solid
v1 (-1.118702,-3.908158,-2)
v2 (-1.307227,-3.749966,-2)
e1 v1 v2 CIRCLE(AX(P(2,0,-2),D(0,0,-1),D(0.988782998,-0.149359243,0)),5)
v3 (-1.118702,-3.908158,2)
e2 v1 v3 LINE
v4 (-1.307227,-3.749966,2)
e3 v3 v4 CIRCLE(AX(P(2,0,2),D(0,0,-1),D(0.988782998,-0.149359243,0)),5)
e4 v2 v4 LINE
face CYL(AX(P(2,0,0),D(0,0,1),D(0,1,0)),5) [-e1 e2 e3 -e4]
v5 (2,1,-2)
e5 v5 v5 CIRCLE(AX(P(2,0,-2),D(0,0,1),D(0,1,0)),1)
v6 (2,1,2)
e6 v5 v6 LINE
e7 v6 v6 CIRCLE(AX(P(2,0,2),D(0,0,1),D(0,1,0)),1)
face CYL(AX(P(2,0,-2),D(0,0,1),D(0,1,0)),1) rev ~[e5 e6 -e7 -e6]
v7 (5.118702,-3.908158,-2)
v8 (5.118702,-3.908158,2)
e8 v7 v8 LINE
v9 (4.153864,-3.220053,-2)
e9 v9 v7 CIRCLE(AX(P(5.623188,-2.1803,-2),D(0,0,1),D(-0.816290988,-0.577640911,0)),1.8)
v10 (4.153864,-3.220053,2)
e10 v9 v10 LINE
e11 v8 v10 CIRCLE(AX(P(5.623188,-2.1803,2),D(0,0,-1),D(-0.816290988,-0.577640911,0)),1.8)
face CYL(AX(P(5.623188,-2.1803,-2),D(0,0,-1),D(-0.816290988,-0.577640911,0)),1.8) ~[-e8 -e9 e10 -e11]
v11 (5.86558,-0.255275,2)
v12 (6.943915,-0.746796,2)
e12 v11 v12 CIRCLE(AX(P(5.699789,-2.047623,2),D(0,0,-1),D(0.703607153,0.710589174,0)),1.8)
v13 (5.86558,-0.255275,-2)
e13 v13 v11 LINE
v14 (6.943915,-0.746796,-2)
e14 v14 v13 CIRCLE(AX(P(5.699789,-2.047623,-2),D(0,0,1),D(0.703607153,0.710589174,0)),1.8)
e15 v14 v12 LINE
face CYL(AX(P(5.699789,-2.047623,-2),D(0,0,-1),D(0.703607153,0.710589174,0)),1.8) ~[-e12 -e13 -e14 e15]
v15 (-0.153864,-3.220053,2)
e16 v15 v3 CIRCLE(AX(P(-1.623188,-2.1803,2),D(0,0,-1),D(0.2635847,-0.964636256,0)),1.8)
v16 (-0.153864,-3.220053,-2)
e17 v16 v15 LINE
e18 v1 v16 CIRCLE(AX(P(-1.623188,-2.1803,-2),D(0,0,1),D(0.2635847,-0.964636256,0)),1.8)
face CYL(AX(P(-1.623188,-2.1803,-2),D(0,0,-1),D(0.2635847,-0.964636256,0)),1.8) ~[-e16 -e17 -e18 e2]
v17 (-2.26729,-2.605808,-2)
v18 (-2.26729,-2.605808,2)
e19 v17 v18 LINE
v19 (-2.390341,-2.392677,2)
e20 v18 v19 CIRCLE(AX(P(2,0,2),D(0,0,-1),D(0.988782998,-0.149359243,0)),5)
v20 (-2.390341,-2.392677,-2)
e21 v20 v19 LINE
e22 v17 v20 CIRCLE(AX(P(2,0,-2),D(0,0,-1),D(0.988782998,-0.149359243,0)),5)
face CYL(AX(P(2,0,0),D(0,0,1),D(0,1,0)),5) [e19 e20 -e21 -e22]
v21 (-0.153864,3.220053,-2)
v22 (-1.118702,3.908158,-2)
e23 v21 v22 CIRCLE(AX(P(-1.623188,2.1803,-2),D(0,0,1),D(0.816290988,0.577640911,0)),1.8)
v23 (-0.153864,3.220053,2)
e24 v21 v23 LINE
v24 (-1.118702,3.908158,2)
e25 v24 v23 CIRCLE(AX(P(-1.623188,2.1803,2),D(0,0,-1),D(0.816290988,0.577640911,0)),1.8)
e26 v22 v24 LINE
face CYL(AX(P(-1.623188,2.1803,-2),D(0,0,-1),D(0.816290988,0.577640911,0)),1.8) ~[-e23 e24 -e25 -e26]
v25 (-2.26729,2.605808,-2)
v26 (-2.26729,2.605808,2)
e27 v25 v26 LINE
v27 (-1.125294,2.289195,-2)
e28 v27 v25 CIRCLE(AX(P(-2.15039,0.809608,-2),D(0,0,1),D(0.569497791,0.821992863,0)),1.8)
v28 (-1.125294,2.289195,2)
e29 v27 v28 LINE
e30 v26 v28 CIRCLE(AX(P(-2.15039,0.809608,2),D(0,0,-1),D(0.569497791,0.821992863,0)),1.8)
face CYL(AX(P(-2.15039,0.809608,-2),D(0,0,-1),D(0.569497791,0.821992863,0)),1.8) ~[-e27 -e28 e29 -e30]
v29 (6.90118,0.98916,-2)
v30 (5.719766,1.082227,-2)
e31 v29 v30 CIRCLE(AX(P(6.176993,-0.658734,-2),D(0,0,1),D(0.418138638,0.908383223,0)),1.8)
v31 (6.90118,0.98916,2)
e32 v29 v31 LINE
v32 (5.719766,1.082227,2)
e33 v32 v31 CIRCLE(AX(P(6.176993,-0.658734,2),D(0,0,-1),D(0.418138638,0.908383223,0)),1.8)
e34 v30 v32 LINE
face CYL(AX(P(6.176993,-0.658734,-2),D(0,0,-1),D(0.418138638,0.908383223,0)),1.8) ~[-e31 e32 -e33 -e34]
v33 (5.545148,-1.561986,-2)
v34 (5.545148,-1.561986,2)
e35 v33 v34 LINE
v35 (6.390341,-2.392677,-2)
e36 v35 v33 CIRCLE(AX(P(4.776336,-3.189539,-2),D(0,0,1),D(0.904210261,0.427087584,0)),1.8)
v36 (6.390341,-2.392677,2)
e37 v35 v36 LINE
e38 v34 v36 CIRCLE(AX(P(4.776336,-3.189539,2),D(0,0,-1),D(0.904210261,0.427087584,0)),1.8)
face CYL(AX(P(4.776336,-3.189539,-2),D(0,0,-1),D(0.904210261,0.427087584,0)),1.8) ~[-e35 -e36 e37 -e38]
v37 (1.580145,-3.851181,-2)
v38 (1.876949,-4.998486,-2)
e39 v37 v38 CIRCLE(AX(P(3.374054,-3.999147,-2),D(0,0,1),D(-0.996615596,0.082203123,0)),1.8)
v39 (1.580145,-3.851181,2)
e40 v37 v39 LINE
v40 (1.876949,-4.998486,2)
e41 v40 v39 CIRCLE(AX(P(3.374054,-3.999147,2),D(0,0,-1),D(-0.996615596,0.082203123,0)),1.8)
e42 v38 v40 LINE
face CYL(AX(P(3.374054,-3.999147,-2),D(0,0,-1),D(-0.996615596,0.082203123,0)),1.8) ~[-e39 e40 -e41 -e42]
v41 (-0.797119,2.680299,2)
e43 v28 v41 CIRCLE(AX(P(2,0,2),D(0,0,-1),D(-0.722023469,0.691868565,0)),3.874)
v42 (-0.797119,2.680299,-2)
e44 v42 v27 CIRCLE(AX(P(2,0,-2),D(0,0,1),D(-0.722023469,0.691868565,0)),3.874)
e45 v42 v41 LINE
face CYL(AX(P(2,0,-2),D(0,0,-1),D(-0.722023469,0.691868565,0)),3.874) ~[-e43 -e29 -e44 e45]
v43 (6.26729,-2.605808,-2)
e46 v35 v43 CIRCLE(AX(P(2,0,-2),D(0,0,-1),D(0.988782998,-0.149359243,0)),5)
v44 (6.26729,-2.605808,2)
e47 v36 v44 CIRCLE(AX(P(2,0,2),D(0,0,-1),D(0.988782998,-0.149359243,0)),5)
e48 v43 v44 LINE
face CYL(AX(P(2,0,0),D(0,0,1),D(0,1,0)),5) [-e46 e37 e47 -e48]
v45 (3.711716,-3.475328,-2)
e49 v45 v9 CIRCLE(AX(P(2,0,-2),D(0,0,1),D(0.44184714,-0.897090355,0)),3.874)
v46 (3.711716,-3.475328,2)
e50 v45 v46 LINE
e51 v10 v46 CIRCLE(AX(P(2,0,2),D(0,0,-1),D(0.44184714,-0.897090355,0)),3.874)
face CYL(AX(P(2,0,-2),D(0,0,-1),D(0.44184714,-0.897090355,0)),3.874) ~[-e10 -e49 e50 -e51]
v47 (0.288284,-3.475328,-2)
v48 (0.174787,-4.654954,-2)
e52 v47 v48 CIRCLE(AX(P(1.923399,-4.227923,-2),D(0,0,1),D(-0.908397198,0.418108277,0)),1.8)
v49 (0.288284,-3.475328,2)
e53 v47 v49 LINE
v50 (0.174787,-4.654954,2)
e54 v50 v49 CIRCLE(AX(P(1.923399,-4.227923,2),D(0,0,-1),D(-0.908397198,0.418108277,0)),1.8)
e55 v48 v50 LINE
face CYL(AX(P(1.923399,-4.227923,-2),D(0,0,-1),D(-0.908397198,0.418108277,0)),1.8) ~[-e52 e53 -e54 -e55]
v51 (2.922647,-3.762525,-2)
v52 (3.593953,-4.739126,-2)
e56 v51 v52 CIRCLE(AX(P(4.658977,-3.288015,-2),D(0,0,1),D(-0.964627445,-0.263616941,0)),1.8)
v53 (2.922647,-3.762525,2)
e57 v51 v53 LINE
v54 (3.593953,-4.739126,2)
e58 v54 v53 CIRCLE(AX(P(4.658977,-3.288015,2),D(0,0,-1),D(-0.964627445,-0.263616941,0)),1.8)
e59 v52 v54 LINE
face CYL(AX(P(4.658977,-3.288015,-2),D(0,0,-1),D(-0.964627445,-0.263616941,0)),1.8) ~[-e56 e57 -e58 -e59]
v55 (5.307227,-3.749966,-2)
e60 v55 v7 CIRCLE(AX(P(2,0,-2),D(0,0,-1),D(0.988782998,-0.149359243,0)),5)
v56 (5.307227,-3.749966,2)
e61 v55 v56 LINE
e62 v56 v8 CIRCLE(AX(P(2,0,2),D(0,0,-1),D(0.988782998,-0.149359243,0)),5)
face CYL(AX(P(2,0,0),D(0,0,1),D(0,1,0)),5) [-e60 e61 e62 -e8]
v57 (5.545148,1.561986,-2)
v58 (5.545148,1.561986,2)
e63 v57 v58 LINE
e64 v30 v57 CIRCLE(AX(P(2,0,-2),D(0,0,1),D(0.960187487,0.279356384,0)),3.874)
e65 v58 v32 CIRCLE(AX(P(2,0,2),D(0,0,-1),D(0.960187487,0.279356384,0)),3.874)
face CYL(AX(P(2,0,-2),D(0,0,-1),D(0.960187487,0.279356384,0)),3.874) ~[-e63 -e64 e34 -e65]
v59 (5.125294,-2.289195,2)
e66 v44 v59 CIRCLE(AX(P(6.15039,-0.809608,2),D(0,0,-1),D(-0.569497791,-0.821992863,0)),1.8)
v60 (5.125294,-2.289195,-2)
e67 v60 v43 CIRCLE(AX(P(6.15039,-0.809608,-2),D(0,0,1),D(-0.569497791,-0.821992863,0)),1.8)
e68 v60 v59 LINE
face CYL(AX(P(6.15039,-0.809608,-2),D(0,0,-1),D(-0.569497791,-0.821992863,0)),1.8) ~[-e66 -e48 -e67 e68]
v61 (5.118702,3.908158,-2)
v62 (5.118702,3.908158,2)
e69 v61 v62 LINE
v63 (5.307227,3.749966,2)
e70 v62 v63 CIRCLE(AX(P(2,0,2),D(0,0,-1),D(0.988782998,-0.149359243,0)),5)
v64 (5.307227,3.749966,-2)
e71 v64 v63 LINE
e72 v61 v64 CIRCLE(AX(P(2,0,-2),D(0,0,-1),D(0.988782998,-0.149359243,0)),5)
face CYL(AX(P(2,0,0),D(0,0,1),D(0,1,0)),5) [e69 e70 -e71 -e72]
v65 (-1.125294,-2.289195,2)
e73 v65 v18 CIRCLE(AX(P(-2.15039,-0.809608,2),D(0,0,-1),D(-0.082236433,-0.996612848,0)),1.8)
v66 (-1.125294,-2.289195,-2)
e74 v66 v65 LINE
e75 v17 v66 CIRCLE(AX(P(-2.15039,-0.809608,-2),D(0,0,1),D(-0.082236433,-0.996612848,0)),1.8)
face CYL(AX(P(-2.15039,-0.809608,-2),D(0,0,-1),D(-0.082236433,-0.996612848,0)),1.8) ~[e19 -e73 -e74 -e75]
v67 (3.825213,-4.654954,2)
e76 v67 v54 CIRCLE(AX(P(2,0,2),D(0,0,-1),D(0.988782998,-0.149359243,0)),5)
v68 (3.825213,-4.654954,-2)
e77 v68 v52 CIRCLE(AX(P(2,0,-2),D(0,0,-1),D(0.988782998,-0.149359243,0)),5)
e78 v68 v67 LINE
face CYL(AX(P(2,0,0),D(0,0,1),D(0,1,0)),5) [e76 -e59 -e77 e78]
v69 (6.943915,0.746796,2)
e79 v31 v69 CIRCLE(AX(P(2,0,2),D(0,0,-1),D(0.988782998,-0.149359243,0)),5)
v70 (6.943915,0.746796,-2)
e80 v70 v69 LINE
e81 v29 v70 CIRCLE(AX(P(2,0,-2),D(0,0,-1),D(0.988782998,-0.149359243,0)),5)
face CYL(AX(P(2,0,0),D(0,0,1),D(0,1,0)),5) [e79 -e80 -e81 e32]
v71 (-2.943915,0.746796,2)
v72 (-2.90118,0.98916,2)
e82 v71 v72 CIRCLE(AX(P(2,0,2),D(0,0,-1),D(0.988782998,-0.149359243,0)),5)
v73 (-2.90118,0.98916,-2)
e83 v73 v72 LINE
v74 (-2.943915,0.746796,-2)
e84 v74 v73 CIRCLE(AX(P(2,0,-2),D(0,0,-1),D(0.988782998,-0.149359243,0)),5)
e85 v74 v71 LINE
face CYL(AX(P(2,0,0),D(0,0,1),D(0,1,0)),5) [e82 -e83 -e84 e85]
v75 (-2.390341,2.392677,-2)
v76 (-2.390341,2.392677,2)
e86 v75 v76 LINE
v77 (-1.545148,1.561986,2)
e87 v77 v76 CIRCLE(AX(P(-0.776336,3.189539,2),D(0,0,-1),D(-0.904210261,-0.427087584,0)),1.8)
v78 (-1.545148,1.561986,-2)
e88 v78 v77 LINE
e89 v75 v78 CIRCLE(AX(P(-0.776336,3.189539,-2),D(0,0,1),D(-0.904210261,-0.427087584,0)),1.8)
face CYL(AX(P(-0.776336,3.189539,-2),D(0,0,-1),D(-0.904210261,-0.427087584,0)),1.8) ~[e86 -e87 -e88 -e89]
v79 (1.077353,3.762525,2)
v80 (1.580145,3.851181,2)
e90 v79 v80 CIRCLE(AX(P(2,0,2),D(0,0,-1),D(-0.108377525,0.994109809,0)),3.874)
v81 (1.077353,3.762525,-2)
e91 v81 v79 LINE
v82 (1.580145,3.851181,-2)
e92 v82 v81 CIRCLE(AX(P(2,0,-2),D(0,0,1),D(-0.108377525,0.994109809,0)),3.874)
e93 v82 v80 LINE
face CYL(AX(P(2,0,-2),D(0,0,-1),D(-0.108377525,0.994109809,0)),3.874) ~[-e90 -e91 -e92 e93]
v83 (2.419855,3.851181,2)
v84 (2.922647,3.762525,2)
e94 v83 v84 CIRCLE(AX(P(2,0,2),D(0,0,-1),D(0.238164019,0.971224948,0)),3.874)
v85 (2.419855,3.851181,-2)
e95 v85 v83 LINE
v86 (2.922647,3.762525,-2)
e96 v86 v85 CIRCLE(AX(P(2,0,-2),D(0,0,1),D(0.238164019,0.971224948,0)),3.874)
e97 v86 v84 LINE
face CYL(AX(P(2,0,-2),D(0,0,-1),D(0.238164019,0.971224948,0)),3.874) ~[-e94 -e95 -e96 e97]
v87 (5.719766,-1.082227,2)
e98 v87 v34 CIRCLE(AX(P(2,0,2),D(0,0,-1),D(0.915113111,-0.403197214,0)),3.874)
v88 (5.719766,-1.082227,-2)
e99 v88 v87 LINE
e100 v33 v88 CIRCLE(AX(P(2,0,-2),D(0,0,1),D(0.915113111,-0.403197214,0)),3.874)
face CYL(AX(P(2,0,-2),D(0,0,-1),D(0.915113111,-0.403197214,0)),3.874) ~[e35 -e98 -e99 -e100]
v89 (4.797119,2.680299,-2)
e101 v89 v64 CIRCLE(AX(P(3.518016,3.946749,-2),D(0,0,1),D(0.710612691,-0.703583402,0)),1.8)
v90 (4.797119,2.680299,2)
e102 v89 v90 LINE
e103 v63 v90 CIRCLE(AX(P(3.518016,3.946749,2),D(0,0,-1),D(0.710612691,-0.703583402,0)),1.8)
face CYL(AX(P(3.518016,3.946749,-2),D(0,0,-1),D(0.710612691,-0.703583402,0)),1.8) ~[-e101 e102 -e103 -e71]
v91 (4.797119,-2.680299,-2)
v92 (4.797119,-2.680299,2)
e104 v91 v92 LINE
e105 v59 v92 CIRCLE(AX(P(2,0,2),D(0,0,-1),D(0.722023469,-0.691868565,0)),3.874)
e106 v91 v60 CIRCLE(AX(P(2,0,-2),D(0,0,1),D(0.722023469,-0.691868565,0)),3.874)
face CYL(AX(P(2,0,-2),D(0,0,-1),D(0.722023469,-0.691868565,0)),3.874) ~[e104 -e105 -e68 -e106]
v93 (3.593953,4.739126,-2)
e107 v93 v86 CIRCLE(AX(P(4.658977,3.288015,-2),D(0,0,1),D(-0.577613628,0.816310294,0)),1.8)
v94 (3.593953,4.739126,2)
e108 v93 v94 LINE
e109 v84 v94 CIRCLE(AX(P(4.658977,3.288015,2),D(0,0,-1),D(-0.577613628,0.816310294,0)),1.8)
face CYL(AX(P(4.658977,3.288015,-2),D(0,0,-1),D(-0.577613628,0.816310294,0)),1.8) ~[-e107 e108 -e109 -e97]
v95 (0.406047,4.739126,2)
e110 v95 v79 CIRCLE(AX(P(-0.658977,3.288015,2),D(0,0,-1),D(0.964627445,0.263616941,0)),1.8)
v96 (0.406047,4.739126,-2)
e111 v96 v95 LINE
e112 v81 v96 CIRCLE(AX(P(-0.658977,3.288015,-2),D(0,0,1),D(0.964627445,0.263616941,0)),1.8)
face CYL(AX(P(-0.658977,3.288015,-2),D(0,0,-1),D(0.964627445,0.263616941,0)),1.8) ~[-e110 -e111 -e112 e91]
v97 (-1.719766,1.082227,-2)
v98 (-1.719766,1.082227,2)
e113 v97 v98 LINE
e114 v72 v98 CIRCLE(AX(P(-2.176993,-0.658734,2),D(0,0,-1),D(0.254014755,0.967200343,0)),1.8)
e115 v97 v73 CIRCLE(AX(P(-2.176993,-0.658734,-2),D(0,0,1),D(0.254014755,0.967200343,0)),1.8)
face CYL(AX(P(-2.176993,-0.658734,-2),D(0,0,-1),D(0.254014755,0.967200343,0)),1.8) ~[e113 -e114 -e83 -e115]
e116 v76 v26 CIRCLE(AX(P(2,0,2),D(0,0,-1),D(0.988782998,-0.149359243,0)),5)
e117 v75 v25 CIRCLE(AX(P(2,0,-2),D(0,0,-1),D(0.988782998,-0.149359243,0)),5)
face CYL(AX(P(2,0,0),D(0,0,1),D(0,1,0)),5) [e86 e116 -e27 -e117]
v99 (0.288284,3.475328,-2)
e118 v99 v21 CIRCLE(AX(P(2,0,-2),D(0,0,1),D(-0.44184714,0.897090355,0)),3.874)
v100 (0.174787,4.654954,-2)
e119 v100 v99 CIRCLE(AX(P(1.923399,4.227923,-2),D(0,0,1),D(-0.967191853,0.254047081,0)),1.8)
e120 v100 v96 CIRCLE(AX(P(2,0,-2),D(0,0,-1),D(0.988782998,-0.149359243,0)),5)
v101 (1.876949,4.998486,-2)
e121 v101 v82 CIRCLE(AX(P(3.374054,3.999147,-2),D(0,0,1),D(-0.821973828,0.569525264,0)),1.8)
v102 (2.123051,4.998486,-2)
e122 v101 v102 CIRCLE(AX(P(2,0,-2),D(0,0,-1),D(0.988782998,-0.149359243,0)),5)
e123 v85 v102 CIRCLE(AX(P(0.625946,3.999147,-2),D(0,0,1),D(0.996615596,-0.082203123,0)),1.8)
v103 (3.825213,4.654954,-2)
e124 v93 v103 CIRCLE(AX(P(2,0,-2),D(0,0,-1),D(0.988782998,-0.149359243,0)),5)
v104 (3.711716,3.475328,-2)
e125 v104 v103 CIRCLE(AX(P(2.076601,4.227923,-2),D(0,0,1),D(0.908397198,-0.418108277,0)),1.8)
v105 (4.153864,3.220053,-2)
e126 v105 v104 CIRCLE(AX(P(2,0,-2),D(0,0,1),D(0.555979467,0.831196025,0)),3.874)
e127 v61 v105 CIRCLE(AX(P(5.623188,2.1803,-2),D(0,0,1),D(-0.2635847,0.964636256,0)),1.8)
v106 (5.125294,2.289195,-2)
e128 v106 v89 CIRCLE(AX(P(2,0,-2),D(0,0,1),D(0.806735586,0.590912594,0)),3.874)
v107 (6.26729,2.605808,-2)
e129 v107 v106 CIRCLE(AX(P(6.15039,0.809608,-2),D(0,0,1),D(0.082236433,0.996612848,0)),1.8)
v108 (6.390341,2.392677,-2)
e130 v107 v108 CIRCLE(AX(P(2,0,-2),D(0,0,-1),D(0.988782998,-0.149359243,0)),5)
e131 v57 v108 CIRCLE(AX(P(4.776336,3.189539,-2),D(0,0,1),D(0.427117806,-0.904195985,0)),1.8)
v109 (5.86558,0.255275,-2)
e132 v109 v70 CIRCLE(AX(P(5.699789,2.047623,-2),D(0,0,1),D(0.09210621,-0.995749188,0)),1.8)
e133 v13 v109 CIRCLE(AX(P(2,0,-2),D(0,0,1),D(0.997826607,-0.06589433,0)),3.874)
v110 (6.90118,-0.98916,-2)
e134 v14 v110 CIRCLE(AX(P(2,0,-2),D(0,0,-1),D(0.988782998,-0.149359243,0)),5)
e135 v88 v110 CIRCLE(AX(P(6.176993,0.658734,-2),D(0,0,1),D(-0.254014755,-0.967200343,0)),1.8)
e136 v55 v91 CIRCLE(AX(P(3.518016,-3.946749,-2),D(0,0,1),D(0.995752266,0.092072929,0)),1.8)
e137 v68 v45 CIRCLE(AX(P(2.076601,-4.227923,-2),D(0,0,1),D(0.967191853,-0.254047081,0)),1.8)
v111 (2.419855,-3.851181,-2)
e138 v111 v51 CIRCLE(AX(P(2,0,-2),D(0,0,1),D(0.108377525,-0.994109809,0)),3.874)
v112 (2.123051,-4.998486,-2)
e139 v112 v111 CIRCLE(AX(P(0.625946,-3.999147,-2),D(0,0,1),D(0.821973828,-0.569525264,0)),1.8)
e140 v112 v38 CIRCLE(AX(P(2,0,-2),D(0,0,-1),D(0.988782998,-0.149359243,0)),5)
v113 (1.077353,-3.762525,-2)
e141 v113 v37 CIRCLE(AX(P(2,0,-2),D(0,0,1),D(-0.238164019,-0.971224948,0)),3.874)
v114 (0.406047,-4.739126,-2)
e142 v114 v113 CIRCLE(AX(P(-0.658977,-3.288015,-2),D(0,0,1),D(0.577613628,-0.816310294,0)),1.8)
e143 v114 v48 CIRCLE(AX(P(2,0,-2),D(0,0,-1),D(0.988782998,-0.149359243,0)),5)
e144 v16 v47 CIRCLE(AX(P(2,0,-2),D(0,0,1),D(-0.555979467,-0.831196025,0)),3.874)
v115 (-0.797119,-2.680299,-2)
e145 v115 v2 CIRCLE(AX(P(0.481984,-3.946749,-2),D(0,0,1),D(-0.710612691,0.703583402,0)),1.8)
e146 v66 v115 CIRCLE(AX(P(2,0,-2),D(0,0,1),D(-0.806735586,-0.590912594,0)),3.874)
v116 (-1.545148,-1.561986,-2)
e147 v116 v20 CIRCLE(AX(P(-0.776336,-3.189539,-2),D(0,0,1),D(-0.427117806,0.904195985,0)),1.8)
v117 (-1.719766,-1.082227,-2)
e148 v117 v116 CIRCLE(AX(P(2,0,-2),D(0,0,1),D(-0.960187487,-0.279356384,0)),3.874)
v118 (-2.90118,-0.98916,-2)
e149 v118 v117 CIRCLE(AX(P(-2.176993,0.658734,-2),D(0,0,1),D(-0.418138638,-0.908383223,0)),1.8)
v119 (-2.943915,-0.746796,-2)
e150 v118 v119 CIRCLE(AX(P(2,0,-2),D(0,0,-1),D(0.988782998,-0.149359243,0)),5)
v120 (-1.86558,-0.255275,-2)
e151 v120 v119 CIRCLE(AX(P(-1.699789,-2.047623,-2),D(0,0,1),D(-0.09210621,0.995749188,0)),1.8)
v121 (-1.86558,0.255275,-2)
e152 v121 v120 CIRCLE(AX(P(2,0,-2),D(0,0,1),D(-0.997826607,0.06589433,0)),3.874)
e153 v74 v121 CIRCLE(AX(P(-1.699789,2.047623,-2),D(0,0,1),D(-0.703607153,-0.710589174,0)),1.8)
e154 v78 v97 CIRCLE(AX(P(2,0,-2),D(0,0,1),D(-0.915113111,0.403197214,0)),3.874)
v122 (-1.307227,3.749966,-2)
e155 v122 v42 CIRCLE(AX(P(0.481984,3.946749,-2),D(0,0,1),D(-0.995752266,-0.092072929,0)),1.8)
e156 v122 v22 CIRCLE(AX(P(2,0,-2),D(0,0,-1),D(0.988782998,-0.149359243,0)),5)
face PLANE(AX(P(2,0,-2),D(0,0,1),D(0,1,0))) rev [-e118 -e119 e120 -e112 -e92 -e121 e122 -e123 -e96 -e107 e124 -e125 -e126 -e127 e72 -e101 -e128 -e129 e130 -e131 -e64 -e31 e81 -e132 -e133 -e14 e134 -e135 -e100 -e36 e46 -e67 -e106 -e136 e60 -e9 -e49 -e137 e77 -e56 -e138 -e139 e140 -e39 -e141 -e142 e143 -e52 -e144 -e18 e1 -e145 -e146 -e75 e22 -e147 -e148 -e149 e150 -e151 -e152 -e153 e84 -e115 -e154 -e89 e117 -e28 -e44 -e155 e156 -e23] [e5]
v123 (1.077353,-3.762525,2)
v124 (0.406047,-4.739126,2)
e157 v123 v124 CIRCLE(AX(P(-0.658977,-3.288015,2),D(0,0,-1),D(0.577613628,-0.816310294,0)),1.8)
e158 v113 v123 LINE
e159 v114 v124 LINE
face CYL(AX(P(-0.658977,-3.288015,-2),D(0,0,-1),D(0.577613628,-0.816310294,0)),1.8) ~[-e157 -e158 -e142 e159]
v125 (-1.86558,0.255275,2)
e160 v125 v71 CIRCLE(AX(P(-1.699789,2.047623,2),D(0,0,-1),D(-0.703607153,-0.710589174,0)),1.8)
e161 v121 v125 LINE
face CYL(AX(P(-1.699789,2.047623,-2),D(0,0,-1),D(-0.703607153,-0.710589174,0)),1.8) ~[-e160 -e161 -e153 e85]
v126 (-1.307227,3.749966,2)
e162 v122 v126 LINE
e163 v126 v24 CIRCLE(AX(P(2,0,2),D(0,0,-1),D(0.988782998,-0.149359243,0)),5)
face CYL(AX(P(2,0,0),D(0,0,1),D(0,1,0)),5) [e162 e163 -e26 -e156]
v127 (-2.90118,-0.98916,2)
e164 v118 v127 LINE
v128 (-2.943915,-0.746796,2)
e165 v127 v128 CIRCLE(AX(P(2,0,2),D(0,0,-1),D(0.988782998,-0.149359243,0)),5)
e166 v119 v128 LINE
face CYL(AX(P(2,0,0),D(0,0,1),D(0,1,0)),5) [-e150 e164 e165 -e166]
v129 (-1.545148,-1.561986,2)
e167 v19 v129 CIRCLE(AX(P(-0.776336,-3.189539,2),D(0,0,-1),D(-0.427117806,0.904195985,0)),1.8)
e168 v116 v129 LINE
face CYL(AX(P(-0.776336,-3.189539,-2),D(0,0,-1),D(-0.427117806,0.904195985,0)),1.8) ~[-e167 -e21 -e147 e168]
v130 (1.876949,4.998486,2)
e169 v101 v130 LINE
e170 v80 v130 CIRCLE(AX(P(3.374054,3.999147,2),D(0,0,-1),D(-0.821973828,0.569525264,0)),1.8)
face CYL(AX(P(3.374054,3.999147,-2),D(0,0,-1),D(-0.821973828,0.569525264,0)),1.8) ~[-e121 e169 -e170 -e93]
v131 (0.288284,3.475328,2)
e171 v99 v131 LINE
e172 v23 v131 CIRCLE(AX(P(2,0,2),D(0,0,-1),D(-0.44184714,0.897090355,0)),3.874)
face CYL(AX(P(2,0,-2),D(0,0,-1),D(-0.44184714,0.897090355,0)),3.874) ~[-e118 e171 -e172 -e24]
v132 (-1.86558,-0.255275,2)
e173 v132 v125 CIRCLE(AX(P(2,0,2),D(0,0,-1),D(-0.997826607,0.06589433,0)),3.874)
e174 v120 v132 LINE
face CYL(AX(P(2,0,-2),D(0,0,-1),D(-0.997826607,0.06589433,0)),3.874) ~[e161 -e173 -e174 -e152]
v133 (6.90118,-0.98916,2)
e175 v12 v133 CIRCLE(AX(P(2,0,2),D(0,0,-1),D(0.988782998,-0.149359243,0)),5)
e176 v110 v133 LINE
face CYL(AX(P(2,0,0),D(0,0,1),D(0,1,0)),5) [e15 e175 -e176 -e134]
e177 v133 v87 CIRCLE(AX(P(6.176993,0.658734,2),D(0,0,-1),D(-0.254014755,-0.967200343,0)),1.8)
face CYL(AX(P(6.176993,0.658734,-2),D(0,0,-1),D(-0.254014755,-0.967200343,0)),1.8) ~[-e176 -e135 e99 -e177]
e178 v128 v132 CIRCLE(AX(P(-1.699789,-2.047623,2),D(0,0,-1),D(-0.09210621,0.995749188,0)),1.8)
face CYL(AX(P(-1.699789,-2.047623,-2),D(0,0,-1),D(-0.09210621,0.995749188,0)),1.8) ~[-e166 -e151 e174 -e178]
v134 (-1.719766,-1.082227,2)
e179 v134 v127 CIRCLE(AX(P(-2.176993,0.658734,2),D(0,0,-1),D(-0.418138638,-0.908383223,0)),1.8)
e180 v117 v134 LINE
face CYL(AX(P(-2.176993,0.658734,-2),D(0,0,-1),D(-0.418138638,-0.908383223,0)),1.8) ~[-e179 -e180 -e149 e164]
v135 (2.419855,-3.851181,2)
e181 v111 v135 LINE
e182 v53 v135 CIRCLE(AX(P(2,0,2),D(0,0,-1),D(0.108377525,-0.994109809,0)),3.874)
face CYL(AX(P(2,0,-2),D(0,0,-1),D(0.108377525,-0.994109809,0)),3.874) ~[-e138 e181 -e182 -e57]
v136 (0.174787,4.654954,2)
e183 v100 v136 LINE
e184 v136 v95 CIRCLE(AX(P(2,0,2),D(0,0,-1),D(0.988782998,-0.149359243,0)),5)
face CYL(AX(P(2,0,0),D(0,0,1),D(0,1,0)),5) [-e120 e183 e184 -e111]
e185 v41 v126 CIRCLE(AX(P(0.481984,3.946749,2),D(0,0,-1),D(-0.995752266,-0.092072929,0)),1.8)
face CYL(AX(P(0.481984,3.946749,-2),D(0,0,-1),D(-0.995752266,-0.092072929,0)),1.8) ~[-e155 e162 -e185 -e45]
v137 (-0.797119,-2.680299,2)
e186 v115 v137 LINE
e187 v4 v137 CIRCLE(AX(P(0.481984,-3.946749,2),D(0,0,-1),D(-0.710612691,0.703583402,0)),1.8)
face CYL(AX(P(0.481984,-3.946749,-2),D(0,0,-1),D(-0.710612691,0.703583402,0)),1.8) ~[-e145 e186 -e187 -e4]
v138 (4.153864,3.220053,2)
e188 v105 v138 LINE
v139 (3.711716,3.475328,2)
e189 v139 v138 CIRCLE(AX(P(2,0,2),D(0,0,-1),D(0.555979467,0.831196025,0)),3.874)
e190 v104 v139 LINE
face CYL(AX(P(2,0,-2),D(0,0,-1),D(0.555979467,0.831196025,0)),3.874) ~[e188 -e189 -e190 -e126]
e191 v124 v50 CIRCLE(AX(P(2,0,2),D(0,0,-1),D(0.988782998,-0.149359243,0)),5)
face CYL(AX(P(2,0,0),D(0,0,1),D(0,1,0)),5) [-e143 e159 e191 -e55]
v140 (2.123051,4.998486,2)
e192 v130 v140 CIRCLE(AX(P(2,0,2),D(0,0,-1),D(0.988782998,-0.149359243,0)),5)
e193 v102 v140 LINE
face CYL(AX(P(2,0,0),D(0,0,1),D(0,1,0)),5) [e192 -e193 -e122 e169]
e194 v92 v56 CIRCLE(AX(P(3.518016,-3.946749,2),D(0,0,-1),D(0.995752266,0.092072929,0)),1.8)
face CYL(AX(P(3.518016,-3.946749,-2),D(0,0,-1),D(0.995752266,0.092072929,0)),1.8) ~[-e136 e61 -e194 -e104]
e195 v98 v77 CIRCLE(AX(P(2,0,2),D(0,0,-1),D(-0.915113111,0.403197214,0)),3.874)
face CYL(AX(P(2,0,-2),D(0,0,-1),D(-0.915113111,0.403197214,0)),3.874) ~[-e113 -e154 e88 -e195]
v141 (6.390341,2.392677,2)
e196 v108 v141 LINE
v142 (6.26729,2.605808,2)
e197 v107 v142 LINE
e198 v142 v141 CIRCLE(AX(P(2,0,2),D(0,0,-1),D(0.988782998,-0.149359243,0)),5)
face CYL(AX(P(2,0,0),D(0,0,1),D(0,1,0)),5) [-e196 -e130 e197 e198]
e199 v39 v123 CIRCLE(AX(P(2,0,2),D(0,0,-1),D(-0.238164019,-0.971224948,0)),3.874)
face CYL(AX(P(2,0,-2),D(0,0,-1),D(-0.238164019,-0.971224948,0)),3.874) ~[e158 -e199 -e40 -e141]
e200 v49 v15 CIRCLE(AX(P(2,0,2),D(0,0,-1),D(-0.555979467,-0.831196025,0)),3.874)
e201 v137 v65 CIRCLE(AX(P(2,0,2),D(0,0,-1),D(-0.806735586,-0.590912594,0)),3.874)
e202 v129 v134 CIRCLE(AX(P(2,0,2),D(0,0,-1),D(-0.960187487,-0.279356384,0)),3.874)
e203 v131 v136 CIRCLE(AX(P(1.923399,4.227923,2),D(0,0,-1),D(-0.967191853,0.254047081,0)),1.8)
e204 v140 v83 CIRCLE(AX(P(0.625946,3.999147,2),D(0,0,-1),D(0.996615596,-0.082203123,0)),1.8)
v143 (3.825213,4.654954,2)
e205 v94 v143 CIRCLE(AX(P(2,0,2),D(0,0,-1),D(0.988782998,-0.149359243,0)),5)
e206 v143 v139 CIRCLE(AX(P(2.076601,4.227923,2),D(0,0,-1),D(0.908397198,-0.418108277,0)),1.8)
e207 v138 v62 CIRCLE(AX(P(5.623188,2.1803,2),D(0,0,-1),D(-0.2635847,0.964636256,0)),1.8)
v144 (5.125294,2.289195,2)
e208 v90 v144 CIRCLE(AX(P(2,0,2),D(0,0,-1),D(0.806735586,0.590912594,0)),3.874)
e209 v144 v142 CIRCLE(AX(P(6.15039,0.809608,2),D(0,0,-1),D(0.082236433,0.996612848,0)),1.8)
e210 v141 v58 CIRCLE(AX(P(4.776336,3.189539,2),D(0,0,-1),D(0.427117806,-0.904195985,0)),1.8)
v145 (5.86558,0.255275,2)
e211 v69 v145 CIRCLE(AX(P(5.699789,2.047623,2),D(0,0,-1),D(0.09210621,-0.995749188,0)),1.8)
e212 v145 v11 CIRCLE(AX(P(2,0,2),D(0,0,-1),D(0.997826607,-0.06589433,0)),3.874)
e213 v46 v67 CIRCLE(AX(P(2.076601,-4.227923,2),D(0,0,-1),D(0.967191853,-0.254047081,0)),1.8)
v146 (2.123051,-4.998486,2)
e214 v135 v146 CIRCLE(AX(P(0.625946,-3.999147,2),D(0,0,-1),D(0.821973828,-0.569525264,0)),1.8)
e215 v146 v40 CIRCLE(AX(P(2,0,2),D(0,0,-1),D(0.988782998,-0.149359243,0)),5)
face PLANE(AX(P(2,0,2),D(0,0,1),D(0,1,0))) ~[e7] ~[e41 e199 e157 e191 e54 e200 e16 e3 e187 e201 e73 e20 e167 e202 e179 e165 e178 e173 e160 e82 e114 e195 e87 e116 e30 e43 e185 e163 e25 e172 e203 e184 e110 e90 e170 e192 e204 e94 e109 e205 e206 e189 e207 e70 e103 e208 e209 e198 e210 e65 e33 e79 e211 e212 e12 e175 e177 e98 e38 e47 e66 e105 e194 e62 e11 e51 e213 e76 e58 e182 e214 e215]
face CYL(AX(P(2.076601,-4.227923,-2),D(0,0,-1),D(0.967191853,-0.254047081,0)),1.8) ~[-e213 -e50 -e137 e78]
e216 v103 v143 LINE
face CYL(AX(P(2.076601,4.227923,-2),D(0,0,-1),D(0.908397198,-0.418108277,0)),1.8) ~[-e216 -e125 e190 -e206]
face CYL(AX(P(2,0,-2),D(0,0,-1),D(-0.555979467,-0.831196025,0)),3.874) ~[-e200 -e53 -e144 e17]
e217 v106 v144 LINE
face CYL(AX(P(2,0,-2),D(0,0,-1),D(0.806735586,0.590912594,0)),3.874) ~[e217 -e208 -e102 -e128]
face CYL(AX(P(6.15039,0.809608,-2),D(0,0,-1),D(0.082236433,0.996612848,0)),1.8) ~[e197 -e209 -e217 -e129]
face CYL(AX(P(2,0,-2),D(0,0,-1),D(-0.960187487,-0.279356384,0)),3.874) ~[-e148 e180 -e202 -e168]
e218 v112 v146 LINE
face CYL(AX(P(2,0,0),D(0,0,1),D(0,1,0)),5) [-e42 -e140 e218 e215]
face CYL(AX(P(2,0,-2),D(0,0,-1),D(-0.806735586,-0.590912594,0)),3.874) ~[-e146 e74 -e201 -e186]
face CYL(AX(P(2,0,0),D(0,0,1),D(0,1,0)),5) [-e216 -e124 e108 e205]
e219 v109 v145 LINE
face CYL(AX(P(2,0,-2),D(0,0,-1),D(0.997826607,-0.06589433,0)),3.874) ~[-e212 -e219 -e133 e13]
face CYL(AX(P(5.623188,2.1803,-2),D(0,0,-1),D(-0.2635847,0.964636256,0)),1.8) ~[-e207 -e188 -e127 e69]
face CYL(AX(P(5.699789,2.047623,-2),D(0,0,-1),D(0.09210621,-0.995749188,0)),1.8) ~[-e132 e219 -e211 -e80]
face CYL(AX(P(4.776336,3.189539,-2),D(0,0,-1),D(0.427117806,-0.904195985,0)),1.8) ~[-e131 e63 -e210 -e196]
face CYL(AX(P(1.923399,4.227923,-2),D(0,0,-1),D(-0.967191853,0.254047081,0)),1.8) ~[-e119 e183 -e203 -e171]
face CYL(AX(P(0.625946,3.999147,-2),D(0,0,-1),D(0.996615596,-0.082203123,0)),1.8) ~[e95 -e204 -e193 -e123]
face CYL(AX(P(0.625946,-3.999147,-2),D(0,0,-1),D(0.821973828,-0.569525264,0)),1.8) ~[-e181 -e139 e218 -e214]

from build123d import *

# Parameters (mm, degrees)
BASPROSKE_W           = 4
BASPROSKE_H           = 5
TOOTHCUT_DEPTH        = 9.124038405
TEETHCUTS_COUNT       = 18
TEETHCUTS_ANGLE       = 340
BORSKE_R              = 1
BORE_DEPTH            = 50.0000508
BODY_MOVE_COPY1_ANGLE = 90
BODY_MOVE_COPY2_ANGLE = 90


with BuildPart() as part:
    # BasProSke → Base-Revolve (revolve)
    with BuildSketch(Plane(origin=(0, 0, 0), x_dir=(1, 0, 0), z_dir=(0, 1, 0)), mode=Mode.PRIVATE) as base_revolve_sk:
        with Locations((2, 2.5)):
            Rectangle(BASPROSKE_W, BASPROSKE_H)
    revolve(base_revolve_sk.sketch.rotate(Axis((-10, 0, 0), (1, 0, 0)), 180), axis=Axis((-10, 0, 0), (1, 0, 0)))

    # TooCutSke → ToothCut (cut, through all)
    with BuildSketch(Plane(origin=(0, 0, 0), x_dir=(0, 0, -1), z_dir=(1, 0, 0))):
        with BuildLine():
            ThreePointArc((0.25527463, 3.865580275), (0, 3.874), (-0.25527463, 3.865580275))
            ThreePointArc((-0.25527463, 3.865580275), (-0.416281865, 4.46052923), (-0.768562654, 4.96628197))
            ThreePointArc((-0.768562654, 4.96628197), (0, 5.0254), (0.768562654, 4.96628197))
            ThreePointArc((0.768562654, 4.96628197), (0.416281865, 4.46052923), (0.25527463, 3.865580275))
        make_face()
    toothcut = extrude(amount=TOOTHCUT_DEPTH, mode=Mode.SUBTRACT)

    # TeethCuts: ToothCut ×18 about axis
    teethcuts_axis = Axis((-10, 0, 0), (1, 0, 0))
    for i in range(1, TEETHCUTS_COUNT):
        add(toothcut.rotate(teethcuts_axis, i * TEETHCUTS_ANGLE / (TEETHCUTS_COUNT - 1)), mode=Mode.SUBTRACT)

    # BorSke → Bore (cut, symmetric)
    with BuildSketch(Plane(origin=(0, 0, 0), x_dir=(0, 0, -1), z_dir=(1, 0, 0))):
        with Locations(Location((0, 0, 0), (0, 0, 180))):
            Circle(BORSKE_R)
    extrude(amount=BORE_DEPTH, both=True, mode=Mode.SUBTRACT)


with BuildPart() as part_1:
    # Body-Move/Copy1: moved
    add(part.part.rotate(Axis((2, 0, 0), (0, 0, -1)), BODY_MOVE_COPY1_ANGLE))


with BuildPart() as part_2:
    # Body-Move/Copy2: moved
    add(part_1.part.rotate(Axis((0, 0, 0), (-1, 0, 0)), BODY_MOVE_COPY2_ANGLE))


solid = part_2.part
